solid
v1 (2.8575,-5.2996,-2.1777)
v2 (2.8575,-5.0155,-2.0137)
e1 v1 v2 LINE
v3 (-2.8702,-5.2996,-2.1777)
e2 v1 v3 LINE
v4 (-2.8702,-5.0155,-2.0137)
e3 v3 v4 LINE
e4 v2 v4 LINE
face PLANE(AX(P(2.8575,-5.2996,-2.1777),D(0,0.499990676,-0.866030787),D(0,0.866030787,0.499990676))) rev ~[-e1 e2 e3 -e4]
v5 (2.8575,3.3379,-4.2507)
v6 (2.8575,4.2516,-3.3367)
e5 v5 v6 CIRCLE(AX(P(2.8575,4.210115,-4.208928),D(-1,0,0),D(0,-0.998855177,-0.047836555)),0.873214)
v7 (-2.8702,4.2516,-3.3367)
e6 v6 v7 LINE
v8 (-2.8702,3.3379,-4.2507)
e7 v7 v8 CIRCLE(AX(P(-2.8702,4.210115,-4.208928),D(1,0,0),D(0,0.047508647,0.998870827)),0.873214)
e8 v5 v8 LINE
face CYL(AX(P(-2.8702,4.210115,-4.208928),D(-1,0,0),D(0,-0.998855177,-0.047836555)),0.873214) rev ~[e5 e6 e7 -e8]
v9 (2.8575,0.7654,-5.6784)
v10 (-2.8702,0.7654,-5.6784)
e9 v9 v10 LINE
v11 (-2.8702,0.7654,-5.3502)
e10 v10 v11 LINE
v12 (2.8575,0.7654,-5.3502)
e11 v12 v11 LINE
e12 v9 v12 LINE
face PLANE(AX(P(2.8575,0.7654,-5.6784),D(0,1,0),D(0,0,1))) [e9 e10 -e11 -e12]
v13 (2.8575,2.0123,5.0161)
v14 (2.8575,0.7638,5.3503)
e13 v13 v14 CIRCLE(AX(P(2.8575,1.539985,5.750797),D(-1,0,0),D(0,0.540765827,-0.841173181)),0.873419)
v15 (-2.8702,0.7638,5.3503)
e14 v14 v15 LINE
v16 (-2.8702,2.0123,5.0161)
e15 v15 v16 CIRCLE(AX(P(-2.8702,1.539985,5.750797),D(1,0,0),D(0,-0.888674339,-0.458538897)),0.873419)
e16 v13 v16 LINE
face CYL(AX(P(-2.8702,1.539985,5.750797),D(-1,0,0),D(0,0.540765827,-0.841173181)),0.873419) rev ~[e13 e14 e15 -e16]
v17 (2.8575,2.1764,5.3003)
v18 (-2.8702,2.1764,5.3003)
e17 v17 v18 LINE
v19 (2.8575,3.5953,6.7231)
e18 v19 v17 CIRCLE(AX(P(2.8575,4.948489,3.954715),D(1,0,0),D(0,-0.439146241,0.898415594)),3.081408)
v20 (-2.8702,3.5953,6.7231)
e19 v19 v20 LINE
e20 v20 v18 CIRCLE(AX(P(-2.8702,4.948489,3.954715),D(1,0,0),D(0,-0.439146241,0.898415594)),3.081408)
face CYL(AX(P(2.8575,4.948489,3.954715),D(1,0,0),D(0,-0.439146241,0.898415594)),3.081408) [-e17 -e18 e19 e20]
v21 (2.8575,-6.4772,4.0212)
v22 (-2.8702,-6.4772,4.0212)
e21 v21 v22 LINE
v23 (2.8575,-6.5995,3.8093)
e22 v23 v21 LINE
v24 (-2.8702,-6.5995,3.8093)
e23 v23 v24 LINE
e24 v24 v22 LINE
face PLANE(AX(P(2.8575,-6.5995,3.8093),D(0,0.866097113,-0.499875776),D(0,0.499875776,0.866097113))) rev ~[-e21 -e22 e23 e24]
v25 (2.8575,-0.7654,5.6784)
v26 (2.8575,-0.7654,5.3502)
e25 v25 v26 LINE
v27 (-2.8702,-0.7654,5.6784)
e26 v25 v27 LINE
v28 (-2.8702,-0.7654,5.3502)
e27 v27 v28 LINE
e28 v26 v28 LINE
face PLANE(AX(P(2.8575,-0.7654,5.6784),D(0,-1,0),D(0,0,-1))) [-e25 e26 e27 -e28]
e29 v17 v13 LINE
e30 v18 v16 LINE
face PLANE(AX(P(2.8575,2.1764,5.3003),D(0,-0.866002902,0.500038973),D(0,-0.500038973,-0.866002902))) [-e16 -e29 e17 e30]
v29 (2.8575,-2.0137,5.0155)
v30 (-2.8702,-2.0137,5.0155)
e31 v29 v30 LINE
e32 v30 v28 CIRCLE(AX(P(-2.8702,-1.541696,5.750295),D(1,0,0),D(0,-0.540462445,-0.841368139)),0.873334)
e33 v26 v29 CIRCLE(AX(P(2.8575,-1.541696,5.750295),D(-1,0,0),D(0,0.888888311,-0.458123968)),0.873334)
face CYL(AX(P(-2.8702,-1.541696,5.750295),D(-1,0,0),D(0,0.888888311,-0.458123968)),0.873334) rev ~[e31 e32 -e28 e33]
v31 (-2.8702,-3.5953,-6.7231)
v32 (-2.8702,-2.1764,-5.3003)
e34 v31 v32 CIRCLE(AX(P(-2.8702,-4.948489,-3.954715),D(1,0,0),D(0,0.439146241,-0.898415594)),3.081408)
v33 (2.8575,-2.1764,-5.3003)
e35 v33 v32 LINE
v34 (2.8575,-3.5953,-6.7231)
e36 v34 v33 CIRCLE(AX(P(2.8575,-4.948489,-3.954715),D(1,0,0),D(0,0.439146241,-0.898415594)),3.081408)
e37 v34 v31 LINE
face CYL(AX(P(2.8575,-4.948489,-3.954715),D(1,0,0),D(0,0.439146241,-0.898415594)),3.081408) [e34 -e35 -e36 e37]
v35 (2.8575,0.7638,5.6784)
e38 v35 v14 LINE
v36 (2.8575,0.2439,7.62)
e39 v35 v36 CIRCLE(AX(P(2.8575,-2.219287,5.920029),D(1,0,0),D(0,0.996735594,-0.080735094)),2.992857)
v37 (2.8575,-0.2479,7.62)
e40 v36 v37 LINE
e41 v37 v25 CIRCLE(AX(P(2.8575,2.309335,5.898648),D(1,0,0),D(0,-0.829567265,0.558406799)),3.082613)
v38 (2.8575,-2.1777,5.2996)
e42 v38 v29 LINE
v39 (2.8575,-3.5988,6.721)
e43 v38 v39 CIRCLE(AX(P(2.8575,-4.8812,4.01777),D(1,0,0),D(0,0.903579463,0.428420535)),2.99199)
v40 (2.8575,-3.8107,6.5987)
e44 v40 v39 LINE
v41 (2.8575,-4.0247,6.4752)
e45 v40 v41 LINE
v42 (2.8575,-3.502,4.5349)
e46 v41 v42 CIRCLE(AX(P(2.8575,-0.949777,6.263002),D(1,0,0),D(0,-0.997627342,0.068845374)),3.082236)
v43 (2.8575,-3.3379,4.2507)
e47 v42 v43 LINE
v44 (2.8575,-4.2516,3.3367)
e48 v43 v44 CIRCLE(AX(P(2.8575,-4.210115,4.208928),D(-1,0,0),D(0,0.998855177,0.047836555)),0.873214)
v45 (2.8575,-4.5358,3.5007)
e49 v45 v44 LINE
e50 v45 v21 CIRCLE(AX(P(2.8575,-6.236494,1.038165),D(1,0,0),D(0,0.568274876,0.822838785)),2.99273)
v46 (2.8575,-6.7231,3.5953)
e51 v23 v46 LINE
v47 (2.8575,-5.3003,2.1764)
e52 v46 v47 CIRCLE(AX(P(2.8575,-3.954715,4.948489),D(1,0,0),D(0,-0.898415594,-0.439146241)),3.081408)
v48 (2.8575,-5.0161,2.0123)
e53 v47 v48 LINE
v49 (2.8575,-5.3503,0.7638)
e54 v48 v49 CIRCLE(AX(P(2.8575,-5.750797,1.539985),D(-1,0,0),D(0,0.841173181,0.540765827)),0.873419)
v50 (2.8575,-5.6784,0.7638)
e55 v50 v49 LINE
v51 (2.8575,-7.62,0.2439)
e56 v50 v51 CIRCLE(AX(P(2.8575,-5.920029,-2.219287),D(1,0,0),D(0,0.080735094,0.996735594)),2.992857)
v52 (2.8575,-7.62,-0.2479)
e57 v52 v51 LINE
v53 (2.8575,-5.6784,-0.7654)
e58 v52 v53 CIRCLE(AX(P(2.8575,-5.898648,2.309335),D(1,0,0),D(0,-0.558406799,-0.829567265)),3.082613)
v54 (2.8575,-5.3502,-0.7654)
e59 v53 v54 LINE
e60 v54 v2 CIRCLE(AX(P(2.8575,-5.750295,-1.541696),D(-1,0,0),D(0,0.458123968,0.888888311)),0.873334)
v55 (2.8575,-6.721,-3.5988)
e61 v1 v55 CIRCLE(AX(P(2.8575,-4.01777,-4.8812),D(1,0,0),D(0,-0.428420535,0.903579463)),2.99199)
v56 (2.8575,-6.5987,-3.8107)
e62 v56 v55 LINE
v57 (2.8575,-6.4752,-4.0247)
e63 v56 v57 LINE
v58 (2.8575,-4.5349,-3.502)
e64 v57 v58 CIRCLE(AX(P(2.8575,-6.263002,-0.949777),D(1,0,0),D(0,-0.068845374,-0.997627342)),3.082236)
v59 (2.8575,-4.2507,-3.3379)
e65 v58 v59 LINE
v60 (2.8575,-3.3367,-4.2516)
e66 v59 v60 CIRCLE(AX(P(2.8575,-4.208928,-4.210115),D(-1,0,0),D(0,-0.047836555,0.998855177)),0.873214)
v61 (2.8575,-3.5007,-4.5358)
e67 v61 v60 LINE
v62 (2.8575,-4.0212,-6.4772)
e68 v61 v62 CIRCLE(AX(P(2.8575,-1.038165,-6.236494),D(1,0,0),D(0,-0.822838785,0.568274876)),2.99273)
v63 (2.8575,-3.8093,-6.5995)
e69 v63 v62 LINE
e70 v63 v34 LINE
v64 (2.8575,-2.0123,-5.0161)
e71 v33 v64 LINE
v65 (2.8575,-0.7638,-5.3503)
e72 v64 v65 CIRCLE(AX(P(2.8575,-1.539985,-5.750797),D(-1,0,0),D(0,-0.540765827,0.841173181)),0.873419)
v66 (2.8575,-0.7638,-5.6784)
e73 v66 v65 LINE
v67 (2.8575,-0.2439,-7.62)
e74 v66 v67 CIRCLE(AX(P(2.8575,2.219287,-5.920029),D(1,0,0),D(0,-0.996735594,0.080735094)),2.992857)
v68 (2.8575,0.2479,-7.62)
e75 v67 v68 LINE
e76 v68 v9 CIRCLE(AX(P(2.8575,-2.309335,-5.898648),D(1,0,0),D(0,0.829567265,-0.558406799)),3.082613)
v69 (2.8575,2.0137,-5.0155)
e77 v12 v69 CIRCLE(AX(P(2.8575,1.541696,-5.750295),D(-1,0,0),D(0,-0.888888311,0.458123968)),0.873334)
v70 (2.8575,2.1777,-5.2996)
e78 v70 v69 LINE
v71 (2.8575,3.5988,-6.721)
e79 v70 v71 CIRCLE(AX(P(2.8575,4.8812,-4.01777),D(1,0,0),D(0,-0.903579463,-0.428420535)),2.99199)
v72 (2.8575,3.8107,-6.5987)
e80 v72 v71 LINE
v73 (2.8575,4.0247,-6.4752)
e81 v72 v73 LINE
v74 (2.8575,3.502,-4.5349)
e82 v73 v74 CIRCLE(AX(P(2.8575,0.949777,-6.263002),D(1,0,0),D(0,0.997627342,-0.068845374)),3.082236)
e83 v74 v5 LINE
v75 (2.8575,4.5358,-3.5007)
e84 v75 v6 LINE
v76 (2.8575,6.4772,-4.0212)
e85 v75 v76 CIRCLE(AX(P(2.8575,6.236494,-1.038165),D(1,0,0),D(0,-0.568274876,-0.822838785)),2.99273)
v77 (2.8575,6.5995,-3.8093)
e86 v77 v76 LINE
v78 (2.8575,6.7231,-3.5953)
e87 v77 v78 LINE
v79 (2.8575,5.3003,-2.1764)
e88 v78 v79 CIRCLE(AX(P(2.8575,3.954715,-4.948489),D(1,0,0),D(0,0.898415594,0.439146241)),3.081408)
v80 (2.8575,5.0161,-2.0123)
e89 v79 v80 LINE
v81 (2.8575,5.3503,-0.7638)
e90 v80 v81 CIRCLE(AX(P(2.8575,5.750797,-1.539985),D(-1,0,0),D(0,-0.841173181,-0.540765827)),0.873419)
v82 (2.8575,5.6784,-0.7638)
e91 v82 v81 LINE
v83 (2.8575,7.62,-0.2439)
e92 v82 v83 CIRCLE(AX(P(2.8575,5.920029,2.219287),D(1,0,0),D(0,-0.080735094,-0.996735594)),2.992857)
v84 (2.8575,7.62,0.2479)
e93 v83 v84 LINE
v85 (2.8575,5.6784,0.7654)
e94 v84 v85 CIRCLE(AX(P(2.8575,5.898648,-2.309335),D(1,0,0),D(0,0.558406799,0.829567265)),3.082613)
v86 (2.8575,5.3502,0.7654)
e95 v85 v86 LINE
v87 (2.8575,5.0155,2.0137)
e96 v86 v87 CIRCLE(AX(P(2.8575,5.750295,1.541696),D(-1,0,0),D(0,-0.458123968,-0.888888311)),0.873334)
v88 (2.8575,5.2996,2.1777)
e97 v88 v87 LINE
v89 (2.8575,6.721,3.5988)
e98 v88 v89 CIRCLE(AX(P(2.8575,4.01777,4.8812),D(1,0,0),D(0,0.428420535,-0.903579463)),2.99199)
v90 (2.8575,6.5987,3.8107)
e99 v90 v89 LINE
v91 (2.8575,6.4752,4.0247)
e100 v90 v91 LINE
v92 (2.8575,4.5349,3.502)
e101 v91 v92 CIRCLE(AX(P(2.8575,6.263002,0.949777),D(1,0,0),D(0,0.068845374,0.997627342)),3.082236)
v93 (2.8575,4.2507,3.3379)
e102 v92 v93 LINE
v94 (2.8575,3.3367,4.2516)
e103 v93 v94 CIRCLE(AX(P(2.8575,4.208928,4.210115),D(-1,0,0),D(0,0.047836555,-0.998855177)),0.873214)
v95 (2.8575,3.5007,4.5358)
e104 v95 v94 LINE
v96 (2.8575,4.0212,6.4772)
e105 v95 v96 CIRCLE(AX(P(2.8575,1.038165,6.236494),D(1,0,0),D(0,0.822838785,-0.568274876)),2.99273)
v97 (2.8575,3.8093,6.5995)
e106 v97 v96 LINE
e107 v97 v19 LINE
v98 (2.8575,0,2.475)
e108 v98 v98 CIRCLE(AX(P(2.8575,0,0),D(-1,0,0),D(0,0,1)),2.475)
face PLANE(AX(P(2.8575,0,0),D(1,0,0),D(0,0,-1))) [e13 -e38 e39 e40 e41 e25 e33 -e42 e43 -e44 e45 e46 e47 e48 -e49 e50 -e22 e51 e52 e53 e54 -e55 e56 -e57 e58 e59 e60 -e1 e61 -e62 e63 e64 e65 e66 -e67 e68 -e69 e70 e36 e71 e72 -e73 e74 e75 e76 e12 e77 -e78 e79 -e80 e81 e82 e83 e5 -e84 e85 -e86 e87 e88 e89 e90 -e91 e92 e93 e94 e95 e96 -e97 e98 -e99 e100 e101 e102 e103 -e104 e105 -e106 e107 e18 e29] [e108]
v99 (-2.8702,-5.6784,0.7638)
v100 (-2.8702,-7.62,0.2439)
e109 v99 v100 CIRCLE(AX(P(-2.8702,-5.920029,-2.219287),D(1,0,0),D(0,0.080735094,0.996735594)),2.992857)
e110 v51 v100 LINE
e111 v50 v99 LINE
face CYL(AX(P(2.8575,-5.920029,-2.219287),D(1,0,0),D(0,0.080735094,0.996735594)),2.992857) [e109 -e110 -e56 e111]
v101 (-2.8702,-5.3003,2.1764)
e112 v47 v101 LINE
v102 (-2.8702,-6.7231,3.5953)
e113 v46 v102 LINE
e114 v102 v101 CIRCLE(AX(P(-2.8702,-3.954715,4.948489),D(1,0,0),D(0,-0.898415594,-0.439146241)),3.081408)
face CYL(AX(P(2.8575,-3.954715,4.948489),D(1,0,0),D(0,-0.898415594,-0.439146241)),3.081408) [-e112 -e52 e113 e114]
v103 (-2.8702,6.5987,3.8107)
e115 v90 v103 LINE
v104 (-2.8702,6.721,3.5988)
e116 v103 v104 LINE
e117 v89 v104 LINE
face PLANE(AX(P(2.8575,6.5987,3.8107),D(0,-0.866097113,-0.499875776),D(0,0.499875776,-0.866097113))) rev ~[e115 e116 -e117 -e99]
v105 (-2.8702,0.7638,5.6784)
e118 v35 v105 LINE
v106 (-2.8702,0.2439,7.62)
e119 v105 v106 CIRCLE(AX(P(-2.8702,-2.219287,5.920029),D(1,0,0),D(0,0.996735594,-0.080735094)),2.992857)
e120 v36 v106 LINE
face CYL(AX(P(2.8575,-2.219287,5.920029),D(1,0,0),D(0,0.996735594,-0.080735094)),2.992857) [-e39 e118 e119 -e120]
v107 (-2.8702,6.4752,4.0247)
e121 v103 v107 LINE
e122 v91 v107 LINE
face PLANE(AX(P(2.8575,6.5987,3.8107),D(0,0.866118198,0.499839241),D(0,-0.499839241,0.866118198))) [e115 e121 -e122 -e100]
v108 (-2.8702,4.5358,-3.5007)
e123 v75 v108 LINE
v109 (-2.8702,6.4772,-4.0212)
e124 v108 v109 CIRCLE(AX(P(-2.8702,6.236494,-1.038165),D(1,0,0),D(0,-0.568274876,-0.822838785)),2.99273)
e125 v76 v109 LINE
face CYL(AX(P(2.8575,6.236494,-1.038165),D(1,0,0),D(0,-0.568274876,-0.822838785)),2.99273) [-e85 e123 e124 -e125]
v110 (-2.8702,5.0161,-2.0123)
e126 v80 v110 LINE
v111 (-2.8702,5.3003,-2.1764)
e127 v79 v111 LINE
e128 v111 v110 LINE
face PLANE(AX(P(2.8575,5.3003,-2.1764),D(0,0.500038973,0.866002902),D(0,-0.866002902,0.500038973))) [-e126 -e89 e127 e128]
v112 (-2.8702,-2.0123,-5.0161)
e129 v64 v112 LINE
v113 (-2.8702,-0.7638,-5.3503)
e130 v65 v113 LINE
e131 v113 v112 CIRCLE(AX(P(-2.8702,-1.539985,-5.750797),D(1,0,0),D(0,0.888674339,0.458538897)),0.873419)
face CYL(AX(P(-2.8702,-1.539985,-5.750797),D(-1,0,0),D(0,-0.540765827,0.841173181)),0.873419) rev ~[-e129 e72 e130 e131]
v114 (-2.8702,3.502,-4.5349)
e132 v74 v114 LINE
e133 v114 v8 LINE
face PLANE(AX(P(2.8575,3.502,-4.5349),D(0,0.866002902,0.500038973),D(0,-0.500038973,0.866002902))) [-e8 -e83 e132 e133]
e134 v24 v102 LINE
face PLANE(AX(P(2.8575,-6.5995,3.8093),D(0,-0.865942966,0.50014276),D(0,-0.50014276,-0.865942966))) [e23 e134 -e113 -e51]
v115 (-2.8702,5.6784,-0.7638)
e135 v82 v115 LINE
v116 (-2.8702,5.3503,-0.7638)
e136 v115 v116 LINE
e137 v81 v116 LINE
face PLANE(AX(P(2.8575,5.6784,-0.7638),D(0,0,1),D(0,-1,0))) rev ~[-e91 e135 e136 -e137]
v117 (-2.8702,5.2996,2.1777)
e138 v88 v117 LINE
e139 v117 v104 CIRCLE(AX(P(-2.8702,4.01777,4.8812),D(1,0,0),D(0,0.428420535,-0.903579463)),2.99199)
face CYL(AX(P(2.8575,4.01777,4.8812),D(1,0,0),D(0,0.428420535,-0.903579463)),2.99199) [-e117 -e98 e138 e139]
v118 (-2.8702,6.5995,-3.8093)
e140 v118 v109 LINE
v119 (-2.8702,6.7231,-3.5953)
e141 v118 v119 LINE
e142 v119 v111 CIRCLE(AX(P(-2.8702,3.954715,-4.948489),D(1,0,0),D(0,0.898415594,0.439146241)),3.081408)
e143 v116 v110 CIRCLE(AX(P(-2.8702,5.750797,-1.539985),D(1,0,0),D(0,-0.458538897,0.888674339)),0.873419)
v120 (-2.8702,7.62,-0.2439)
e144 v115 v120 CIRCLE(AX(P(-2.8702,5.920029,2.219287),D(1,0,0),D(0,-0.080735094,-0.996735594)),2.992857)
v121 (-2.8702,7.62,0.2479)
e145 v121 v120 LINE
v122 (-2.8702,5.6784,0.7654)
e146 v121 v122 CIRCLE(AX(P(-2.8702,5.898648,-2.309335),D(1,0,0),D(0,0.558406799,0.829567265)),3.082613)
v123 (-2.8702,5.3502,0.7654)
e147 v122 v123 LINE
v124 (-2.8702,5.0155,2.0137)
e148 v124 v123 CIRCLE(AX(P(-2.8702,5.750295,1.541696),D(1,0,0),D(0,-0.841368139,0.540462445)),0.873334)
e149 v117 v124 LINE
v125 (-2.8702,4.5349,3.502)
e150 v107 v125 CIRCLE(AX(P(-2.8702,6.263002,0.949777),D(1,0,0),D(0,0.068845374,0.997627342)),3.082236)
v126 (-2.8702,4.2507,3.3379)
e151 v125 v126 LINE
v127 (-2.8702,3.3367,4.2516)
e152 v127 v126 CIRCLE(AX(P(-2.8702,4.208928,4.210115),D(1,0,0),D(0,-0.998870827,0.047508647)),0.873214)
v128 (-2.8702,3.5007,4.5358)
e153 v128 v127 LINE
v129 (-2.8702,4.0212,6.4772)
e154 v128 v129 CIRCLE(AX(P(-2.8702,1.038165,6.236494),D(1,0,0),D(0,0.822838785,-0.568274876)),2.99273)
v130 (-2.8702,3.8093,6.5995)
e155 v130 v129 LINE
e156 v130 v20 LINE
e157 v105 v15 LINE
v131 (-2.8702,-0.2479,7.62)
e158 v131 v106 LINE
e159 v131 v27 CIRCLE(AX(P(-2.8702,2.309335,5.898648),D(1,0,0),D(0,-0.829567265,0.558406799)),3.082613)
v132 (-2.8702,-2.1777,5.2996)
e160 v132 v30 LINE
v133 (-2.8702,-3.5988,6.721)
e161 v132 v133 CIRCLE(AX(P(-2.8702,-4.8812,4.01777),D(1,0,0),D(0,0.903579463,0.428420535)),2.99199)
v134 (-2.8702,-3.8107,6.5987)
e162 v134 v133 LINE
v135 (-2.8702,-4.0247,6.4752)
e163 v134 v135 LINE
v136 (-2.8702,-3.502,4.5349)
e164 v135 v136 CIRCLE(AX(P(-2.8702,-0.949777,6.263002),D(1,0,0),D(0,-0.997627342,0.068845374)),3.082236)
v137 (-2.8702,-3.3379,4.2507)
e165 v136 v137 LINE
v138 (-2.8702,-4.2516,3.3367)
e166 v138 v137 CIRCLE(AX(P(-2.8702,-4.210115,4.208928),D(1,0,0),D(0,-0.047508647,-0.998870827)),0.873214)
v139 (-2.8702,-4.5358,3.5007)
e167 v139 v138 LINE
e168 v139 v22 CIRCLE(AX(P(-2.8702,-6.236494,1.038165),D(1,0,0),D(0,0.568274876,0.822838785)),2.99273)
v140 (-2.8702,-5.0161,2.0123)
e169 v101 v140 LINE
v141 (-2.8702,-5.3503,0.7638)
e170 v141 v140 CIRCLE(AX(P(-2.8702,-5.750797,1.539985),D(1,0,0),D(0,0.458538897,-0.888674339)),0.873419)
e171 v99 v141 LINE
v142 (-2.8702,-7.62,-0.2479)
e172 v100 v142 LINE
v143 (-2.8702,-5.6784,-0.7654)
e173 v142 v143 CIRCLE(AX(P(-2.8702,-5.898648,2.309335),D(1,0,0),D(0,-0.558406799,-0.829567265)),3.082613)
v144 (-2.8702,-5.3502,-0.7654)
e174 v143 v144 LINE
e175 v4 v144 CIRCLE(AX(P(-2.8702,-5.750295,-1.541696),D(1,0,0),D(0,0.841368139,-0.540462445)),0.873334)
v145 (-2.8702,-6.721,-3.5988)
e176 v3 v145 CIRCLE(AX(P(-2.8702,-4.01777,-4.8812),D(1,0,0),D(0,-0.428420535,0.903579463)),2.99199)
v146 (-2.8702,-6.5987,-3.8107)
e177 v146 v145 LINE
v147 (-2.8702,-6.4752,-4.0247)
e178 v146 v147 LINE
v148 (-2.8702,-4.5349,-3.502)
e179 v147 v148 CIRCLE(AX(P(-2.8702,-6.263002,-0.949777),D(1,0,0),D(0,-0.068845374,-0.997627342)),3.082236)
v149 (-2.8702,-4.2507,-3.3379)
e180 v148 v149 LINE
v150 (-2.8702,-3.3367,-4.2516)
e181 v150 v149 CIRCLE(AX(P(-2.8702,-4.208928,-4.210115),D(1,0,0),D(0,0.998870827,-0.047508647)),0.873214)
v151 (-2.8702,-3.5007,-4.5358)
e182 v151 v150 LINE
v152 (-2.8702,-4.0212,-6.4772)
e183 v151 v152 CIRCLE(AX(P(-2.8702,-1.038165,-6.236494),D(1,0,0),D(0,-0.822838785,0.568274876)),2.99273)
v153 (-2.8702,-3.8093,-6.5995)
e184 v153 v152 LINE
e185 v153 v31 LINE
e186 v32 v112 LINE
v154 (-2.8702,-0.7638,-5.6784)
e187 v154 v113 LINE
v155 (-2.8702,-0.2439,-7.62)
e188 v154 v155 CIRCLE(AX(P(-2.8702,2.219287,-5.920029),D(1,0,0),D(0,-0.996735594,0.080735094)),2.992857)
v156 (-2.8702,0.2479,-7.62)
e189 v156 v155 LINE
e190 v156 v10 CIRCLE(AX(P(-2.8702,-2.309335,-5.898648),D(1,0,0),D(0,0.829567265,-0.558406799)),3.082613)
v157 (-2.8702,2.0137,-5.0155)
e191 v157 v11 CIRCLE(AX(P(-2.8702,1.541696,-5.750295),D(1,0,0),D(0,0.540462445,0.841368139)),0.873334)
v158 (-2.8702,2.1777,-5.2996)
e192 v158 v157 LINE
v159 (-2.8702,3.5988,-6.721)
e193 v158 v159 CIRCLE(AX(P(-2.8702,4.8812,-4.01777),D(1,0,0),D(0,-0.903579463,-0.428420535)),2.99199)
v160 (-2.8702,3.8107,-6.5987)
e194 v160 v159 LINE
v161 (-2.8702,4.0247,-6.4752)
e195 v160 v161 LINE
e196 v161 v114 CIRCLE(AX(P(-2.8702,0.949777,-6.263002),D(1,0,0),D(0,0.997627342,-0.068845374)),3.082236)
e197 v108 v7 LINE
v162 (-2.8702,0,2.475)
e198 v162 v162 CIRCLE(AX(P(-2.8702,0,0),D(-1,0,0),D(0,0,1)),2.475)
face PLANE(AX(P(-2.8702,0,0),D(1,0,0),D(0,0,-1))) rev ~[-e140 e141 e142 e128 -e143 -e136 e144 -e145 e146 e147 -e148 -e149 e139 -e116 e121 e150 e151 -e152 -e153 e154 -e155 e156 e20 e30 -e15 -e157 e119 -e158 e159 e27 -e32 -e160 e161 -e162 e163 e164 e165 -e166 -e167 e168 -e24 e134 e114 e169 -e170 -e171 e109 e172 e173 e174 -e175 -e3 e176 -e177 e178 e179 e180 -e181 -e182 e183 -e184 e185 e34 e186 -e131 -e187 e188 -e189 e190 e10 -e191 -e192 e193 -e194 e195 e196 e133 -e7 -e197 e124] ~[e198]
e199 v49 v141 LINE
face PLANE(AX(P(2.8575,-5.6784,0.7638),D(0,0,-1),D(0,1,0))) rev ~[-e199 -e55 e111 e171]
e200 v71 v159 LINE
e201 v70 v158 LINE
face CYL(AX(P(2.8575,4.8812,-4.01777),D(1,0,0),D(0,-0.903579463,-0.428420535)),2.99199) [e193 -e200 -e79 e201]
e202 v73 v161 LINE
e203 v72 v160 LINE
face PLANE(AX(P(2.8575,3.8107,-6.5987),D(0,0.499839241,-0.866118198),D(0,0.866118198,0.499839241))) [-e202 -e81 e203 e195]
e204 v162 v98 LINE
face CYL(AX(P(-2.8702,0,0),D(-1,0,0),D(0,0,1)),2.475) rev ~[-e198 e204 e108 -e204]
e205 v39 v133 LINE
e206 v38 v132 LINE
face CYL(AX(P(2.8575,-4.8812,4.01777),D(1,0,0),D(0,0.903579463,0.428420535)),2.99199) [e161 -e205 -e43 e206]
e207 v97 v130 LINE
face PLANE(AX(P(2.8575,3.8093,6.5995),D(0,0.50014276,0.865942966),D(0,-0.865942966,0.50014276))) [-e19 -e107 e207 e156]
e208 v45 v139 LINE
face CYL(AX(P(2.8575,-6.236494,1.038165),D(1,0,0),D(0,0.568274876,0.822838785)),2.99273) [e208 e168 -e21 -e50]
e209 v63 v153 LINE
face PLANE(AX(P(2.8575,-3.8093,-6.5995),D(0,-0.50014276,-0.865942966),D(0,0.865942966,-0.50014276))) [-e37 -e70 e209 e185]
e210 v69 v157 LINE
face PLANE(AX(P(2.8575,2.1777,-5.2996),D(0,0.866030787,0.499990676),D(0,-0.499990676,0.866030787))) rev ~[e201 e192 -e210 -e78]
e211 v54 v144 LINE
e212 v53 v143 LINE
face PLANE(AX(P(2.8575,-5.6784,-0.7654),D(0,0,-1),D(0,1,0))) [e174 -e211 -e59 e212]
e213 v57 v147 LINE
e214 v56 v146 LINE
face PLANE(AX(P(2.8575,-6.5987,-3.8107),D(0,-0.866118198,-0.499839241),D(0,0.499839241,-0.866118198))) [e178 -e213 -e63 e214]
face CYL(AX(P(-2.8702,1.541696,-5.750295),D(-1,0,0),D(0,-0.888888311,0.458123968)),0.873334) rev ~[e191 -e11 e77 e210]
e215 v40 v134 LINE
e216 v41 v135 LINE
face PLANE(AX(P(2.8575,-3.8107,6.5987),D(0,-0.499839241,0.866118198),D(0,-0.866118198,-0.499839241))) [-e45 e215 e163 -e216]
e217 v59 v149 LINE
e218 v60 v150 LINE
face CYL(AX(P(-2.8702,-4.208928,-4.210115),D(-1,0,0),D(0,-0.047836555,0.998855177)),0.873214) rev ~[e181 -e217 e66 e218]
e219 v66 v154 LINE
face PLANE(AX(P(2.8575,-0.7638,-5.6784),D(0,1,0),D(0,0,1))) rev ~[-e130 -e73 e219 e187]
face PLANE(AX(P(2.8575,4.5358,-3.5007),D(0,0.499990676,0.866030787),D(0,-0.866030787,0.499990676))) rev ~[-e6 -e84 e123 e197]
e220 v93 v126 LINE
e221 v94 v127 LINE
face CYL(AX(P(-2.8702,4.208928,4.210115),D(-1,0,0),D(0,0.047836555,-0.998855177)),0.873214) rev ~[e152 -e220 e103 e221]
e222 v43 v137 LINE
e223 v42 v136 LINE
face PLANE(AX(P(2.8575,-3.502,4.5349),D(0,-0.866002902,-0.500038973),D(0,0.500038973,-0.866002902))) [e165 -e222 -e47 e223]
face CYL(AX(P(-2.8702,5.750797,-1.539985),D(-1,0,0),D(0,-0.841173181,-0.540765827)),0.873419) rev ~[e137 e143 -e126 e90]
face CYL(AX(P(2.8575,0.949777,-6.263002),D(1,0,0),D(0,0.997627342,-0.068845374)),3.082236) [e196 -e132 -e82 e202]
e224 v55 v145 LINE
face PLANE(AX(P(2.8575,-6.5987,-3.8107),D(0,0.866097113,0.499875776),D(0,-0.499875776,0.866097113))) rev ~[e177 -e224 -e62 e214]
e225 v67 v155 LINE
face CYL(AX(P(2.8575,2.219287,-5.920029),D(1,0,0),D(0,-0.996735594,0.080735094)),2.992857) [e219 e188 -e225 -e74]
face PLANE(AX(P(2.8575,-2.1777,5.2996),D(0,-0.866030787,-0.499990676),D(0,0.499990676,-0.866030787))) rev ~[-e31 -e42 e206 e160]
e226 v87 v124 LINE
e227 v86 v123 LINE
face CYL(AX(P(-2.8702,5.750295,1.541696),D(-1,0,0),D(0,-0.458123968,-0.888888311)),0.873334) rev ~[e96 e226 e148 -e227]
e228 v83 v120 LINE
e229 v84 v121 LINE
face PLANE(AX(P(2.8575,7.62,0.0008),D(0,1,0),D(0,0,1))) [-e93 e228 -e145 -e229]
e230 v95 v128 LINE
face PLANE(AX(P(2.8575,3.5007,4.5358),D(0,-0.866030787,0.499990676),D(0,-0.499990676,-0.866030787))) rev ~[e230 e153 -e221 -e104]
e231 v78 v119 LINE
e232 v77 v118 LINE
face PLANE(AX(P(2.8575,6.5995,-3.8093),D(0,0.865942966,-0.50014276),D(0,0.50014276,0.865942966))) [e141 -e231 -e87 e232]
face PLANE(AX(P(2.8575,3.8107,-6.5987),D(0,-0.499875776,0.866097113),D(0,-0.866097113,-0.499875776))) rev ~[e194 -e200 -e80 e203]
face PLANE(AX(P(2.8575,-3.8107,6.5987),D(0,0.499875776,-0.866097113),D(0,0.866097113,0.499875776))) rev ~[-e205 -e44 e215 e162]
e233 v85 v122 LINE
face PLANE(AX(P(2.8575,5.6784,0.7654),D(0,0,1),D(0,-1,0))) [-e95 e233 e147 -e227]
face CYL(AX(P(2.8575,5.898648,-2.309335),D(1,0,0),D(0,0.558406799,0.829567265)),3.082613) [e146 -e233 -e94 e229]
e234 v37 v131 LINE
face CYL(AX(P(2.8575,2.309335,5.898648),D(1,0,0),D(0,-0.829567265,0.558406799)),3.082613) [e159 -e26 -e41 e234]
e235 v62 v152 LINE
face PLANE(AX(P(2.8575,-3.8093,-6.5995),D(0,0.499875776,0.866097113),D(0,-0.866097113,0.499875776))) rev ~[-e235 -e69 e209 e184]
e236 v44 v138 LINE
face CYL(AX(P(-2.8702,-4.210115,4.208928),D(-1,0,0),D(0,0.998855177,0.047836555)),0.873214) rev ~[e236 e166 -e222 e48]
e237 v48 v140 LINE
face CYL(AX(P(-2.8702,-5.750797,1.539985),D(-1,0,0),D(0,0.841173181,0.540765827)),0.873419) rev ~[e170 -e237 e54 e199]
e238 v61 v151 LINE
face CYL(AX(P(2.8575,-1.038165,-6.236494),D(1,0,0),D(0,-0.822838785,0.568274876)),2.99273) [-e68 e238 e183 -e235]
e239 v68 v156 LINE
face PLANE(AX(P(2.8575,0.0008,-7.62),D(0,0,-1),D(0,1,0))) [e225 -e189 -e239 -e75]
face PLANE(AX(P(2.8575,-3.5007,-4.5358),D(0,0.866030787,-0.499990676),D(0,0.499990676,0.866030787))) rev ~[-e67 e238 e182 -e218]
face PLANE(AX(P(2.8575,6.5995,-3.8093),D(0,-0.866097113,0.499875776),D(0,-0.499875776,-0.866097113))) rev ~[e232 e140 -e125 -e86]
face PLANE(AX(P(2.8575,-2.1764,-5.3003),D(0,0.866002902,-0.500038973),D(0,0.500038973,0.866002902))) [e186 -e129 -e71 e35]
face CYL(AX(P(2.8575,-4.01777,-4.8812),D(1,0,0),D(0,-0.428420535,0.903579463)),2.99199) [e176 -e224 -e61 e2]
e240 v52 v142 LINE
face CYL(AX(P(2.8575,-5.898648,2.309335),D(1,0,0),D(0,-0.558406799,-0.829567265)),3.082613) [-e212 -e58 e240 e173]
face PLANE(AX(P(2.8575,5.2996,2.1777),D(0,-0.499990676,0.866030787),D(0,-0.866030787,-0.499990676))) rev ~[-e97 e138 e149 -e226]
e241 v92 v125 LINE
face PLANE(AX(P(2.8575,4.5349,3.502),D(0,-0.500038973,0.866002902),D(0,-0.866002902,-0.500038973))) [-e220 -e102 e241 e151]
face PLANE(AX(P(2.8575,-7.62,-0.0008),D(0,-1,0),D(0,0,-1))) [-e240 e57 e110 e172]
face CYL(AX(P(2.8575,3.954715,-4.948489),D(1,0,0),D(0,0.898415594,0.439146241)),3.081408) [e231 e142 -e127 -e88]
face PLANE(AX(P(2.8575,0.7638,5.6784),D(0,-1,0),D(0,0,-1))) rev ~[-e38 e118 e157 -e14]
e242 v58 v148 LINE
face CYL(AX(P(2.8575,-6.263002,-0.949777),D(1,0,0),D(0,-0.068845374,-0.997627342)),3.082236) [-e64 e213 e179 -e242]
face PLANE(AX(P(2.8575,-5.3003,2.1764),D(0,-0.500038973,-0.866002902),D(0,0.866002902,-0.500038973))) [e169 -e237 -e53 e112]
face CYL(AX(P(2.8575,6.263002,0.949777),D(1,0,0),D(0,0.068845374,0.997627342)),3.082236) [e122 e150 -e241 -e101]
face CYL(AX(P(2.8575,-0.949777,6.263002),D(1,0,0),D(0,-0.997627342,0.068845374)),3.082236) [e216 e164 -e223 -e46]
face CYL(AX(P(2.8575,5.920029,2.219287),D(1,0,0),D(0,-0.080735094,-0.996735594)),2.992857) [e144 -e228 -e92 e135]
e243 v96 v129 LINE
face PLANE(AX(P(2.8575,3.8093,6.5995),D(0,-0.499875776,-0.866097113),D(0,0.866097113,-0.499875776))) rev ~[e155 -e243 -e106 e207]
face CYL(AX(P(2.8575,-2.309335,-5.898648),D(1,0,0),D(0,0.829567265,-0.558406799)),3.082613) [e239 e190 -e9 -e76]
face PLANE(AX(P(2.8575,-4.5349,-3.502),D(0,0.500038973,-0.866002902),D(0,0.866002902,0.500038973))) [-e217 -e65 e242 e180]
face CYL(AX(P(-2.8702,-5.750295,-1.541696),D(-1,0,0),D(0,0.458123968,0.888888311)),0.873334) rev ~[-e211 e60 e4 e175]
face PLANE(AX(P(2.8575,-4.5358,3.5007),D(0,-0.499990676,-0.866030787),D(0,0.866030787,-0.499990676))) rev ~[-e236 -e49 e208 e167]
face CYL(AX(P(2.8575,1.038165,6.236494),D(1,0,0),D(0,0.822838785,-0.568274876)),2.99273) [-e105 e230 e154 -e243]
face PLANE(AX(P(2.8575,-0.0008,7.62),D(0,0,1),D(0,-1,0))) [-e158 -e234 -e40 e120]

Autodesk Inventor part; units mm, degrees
ref_plane "YZ Plane" through (0, 0, 0) normal (1, 0, 0) x (0, 1, 0)
ref_plane "XZ Plane" through (0, 0, 0) normal (0, 1, 0) x (-1, 0, 0)
ref_plane "Work Plane2" through (2.8575, 0, 0) normal (1, 0, 0) x (0, 0, -1)
sketch "Sketch6" plane through (2.8575, 0, 0) normal (1, 0, 0) x (0, 0, -1)
  line L0 (0.7654, -5.6784) -> (0.7654, -5.022)
  line L1 (-0.7638, -5.6784) -> (-0.7638, -5.0222)
  arc A0 (5.6006, 2.3498) -> (5.5837, 2.3418) centre (6.3532, 0.7382) ccw
  arc A1 (-0.7638, -5.0222) -> (0.7654, -5.022) centre (0, 0) ccw
  line L2 (0.0008, -7.62) -> (-0.2439, -7.62)
  line L3 (0.0008, -7.62) -> (0.2479, -7.62)
  arc A2 (0.2479, -7.62) -> (0.7654, -5.6784) centre (-2.309, -5.8988) ccw
  arc A3 (-0.7638, -5.6784) -> (-0.2439, -7.62) centre (2.2185, -5.9201) ccw
  arc A4 (3.5877, -3.5965) -> (3.5976, -3.5866) centre (0, 0) ccw
  line L4 (3.502, -4.5349) -> (3.1738, -3.9665)
  line L5 (2.1777, -5.2996) -> (1.8496, -4.7313)
  arc A5 (1.8496, -4.7313) -> (3.1738, -3.9665) centre (0, 0) ccw
  line L6 (3.8107, -6.5987) -> (3.5988, -6.721)
  line L7 (3.8107, -6.5987) -> (4.0247, -6.4752)
  arc A6 (4.0247, -6.4752) -> (3.502, -4.5349) centre (0.9498, -6.263) ccw
  arc A7 (2.1777, -5.2996) -> (3.5988, -6.721) centre (4.8813, -4.0177) ccw
  line L8 (5.3003, -2.1764) -> (4.7319, -1.8482)
  line L9 (4.5358, -3.5007) -> (3.9675, -3.1726)
  arc A8 (3.9675, -3.1726) -> (4.7319, -1.8482) centre (0, 0) ccw
  line L10 (6.5995, -3.8093) -> (6.4772, -4.0212)
  line L11 (6.5995, -3.8093) -> (6.7231, -3.5953)
  arc A9 (6.7231, -3.5953) -> (5.3003, -2.1764) centre (3.954, -4.949) ccw
  arc A10 (4.5358, -3.5007) -> (6.4772, -4.0212) centre (6.2362, -1.0388) ccw
  line L12 (5.6784, 0.7654) -> (5.022, 0.7654)
  line L13 (5.6784, -0.7638) -> (5.0222, -0.7638)
  arc A11 (5.0222, -0.7638) -> (5.022, 0.7654) centre (0, 0) ccw
  line L14 (7.62, 0.0008) -> (7.62, -0.2439)
  line L15 (7.62, 0.0008) -> (7.62, 0.2479)
  arc A12 (7.62, 0.2479) -> (5.6784, 0.7654) centre (5.8988, -2.309) ccw
  arc A13 (5.6784, -0.7638) -> (7.62, -0.2439) centre (5.9201, 2.2185) ccw
  line L16 (4.5349, 3.502) -> (3.9665, 3.1738)
  line L17 (5.2996, 2.1777) -> (4.7313, 1.8496)
  arc A14 (4.7313, 1.8496) -> (3.9665, 3.1738) centre (0, 0) ccw
  line L18 (6.5987, 3.8107) -> (6.721, 3.5988)
  line L19 (6.5987, 3.8107) -> (6.4752, 4.0247)
  arc A15 (6.4752, 4.0247) -> (4.5349, 3.502) centre (6.263, 0.9498) ccw
  arc A16 (5.2996, 2.1777) -> (6.721, 3.5988) centre (4.0177, 4.8813) ccw
  line L20 (2.1764, 5.3003) -> (1.8482, 4.7319)
  line L21 (3.5007, 4.5358) -> (3.1726, 3.9675)
  arc A17 (3.1726, 3.9675) -> (1.8482, 4.7319) centre (0, 0) ccw
  line L22 (3.8093, 6.5995) -> (4.0212, 6.4772)
  line L23 (3.8093, 6.5995) -> (3.5953, 6.7231)
  arc A18 (3.5953, 6.7231) -> (2.1764, 5.3003) centre (4.949, 3.954) ccw
  arc A19 (3.5007, 4.5358) -> (4.0212, 6.4772) centre (1.0388, 6.2362) ccw
  line L24 (-0.7654, 5.6784) -> (-0.7654, 5.022)
  line L25 (0.7638, 5.6784) -> (0.7638, 5.0222)
  arc A20 (0.7638, 5.0222) -> (-0.7654, 5.022) centre (0, 0) ccw
  line L26 (-0.0008, 7.62) -> (0.2439, 7.62)
  line L27 (-0.0008, 7.62) -> (-0.2479, 7.62)
  arc A21 (-0.2479, 7.62) -> (-0.7654, 5.6784) centre (2.309, 5.8988) ccw
  arc A22 (0.7638, 5.6784) -> (0.2439, 7.62) centre (-2.2185, 5.9201) ccw
  line L28 (-3.502, 4.5349) -> (-3.1738, 3.9665)
  line L29 (-2.1777, 5.2996) -> (-1.8496, 4.7313)
  arc A23 (-1.8496, 4.7313) -> (-3.1738, 3.9665) centre (0, 0) ccw
  line L30 (-3.8107, 6.5987) -> (-3.5988, 6.721)
  line L31 (-3.8107, 6.5987) -> (-4.0247, 6.4752)
  arc A24 (-4.0247, 6.4752) -> (-3.502, 4.5349) centre (-0.9498, 6.263) ccw
  arc A25 (-2.1777, 5.2996) -> (-3.5988, 6.721) centre (-4.8813, 4.0177) ccw
  line L32 (-5.3003, 2.1764) -> (-4.7319, 1.8482)
  line L33 (-4.5358, 3.5007) -> (-3.9675, 3.1726)
  arc A26 (-3.9675, 3.1726) -> (-4.7319, 1.8482) centre (0, 0) ccw
  line L34 (-6.5995, 3.8093) -> (-6.4772, 4.0212)
  line L35 (-6.5995, 3.8093) -> (-6.7231, 3.5953)
  arc A27 (-6.7231, 3.5953) -> (-5.3003, 2.1764) centre (-3.954, 4.949) ccw
  arc A28 (-4.5358, 3.5007) -> (-6.4772, 4.0212) centre (-6.2362, 1.0388) ccw
  line L36 (-5.6784, -0.7654) -> (-5.022, -0.7654)
  line L37 (-5.6784, 0.7638) -> (-5.0222, 0.7638)
  arc A29 (-5.0222, 0.7638) -> (-5.022, -0.7654) centre (0, 0) ccw
  line L38 (-7.62, -0.0008) -> (-7.62, 0.2439)
  line L39 (-7.62, -0.0008) -> (-7.62, -0.2479)
  arc A30 (-7.62, -0.2479) -> (-5.6784, -0.7654) centre (-5.8988, 2.309) ccw
  arc A31 (-5.6784, 0.7638) -> (-7.62, 0.2439) centre (-5.9201, -2.2185) ccw
  line L40 (-4.5349, -3.502) -> (-3.9665, -3.1738)
  line L41 (-5.2996, -2.1777) -> (-4.7313, -1.8496)
  arc A32 (-4.7313, -1.8496) -> (-3.9665, -3.1738) centre (0, 0) ccw
  line L42 (-6.5987, -3.8107) -> (-6.721, -3.5988)
  line L43 (-6.5987, -3.8107) -> (-6.4752, -4.0247)
  arc A33 (-6.4752, -4.0247) -> (-4.5349, -3.502) centre (-6.263, -0.9498) ccw
  arc A34 (-5.2996, -2.1777) -> (-6.721, -3.5988) centre (-4.0177, -4.8813) ccw
  line L44 (-2.1764, -5.3003) -> (-1.8482, -4.7319)
  line L45 (-3.5007, -4.5358) -> (-3.1726, -3.9675)
  arc A35 (-3.1726, -3.9675) -> (-1.8482, -4.7319) centre (0, 0) ccw
  line L46 (-3.8093, -6.5995) -> (-4.0212, -6.4772)
  line L47 (-3.8093, -6.5995) -> (-3.5953, -6.7231)
  arc A36 (-3.5953, -6.7231) -> (-2.1764, -5.3003) centre (-4.949, -3.954) ccw
  arc A37 (-3.5007, -4.5358) -> (-4.0212, -6.4772) centre (-1.0388, -6.2362) ccw
  arc A38 (-1.8482, -4.7319) -> (-0.7638, -5.0222) centre (0, 0) ccw
  line L48 (-2.0137, 5.0155) -> (-0.7654, 5.3502)
  line L49 (0.7638, 5.3503) -> (2.0123, 5.0161)
  line L50 (3.3367, 4.2516) -> (4.2507, 3.3379)
  line L51 (5.0155, 2.0137) -> (5.3502, 0.7654)
  line L52 (5.3503, -0.7638) -> (5.0161, -2.0123)
  line L53 (4.2516, -3.3367) -> (3.3379, -4.2507)
  line L54 (2.0137, -5.0155) -> (0.7654, -5.3502)
  line L55 (-0.7638, -5.3503) -> (-2.0123, -5.0161)
  line L56 (-3.3367, -4.2516) -> (-4.2507, -3.3379)
  line L57 (-5.0155, -2.0137) -> (-5.3502, -0.7654)
  line L58 (-5.3503, 0.7638) -> (-5.0161, 2.0123)
  line L59 (-4.2516, 3.3367) -> (-3.3379, 4.2507)
  circle A39 centre (0, 0) radius 5.0531
  point P0 (0, 0)
  point P1 (-4.2516, 3.3367)
  dimension "d94" = 360
extrude "Extrusion19" add sketch "Sketch6" against normal blind 5.7277 contours A2 L3 L2 A3 L1 A1 L0 | L0 A1 A38 A35 L45 L56 L40 A32 L41 L57 L36 A29 L37 L58 L32 A26 L33 L59 L28 A23 L29 L48 L24 A20 L25 L49 L20 A17 L21 L50 L16 A14 L17 L51 L12 A11 L13 L52 L8 A8 L9 L53 L4 A5 L5 L54 | L5 A5 L4 A6 L7 L6 A7 | L1 L55 L44 A38 | L44 A36 L47 L46 A37 L45 A35 | L9 A8 L8 A9 L11 L10 A10 | L40 A33 L43 L42 A34 L41 A32 | L13 A11 L12 A12 L15 L14 A13 | L36 A30 L39 L38 A31 L37 A29 | L17 A14 L16 A15 L19 L18 A16 | L32 A27 L35 L34 A28 L33 A26 | L21 A17 L20 A18 L23 L22 A19 | L28 A24 L31 L30 A25 L29 A23 | L25 A20 L24 A21 L27 L26 A22 | A39
sketch "Sketch7" plane through (-2.8702, 0, 0) normal (-1, 0, 0) x (0, 0, 1)
  circle A0 centre (0, 0) radius 2.475
  dimension "d104" = 4.95
extrude "Extrusion20" cut sketch "Sketch7" against normal blind 2540
sketch "Sketch8" plane through (-2.8702, 0, 0) normal (-1, 0, 0) x (0, 0, 1)
  circle A0 centre (0, 0) radius 5.08
  line L0 (-3.3367, 4.2516) -> (-4.2507, 3.3379) projected
  arc A1 (-4.2507, 3.3379) -> (-3.3367, 4.2516) centre (-4.209, 4.2103) ccw
  line L1 (-3.3367, 4.2516) -> (-3.5007, 4.5358) projected
  line L2 (-4.2507, 3.3379) -> (-3.3367, 4.2516)
  arc A2 (-5.3502, 0.7654) -> (-5.0155, 2.0137) centre (-5.7503, 1.5417) ccw
  line L3 (-5.3502, 0.7654) -> (-5.0155, 2.0137)
  arc A3 (-5.0161, -2.0123) -> (-5.3503, -0.7638) centre (-5.7507, -1.54) ccw
  line L4 (-5.0161, -2.0123) -> (-5.3503, -0.7638)
  arc A4 (-3.3379, -4.2507) -> (-4.2516, -3.3367) centre (-4.2103, -4.209) ccw
  line L5 (-3.3379, -4.2507) -> (-4.2516, -3.3367)
  arc A5 (-0.7654, -5.3502) -> (-2.0137, -5.0155) centre (-1.5417, -5.7503) ccw
  line L6 (-0.7654, -5.3502) -> (-2.0137, -5.0155)
  arc A6 (2.0123, -5.0161) -> (0.7638, -5.3503) centre (1.54, -5.7507) ccw
  line L7 (2.0123, -5.0161) -> (0.7638, -5.3503)
  arc A7 (4.2507, -3.3379) -> (3.3367, -4.2516) centre (4.209, -4.2103) ccw
  line L8 (4.2507, -3.3379) -> (3.3367, -4.2516)
  arc A8 (5.3502, -0.7654) -> (5.0155, -2.0137) centre (5.7503, -1.5417) ccw
  line L9 (5.3502, -0.7654) -> (5.0155, -2.0137)
  arc A9 (5.0161, 2.0123) -> (5.3503, 0.7638) centre (5.7507, 1.54) ccw
  line L10 (5.0161, 2.0123) -> (5.3503, 0.7638)
  arc A10 (3.3379, 4.2507) -> (4.2516, 3.3367) centre (4.2103, 4.209) ccw
  line L11 (3.3379, 4.2507) -> (4.2516, 3.3367)
  arc A11 (0.7654, 5.3502) -> (2.0137, 5.0155) centre (1.5417, 5.7503) ccw
  line L12 (0.7654, 5.3502) -> (2.0137, 5.0155)
  arc A12 (-2.0123, 5.0161) -> (-0.7638, 5.3503) centre (-1.54, 5.7507) ccw
  line L13 (-2.0123, 5.0161) -> (-0.7638, 5.3503)
  dimension "d107" = 10.16
  dimension "d110" = 360
extrude "Extrusion21" cut sketch "Sketch8" against normal blind 2540 contours A8 L9 | A7 L8 | A6 L7 | A5 L6 | A4 L5 | A3 L4 | A2 L3 | A1 L0 | A12 L13 | A11 L12 | A10 L11 | A9 L10
properties part number "Alligator_Pinion (2)"
